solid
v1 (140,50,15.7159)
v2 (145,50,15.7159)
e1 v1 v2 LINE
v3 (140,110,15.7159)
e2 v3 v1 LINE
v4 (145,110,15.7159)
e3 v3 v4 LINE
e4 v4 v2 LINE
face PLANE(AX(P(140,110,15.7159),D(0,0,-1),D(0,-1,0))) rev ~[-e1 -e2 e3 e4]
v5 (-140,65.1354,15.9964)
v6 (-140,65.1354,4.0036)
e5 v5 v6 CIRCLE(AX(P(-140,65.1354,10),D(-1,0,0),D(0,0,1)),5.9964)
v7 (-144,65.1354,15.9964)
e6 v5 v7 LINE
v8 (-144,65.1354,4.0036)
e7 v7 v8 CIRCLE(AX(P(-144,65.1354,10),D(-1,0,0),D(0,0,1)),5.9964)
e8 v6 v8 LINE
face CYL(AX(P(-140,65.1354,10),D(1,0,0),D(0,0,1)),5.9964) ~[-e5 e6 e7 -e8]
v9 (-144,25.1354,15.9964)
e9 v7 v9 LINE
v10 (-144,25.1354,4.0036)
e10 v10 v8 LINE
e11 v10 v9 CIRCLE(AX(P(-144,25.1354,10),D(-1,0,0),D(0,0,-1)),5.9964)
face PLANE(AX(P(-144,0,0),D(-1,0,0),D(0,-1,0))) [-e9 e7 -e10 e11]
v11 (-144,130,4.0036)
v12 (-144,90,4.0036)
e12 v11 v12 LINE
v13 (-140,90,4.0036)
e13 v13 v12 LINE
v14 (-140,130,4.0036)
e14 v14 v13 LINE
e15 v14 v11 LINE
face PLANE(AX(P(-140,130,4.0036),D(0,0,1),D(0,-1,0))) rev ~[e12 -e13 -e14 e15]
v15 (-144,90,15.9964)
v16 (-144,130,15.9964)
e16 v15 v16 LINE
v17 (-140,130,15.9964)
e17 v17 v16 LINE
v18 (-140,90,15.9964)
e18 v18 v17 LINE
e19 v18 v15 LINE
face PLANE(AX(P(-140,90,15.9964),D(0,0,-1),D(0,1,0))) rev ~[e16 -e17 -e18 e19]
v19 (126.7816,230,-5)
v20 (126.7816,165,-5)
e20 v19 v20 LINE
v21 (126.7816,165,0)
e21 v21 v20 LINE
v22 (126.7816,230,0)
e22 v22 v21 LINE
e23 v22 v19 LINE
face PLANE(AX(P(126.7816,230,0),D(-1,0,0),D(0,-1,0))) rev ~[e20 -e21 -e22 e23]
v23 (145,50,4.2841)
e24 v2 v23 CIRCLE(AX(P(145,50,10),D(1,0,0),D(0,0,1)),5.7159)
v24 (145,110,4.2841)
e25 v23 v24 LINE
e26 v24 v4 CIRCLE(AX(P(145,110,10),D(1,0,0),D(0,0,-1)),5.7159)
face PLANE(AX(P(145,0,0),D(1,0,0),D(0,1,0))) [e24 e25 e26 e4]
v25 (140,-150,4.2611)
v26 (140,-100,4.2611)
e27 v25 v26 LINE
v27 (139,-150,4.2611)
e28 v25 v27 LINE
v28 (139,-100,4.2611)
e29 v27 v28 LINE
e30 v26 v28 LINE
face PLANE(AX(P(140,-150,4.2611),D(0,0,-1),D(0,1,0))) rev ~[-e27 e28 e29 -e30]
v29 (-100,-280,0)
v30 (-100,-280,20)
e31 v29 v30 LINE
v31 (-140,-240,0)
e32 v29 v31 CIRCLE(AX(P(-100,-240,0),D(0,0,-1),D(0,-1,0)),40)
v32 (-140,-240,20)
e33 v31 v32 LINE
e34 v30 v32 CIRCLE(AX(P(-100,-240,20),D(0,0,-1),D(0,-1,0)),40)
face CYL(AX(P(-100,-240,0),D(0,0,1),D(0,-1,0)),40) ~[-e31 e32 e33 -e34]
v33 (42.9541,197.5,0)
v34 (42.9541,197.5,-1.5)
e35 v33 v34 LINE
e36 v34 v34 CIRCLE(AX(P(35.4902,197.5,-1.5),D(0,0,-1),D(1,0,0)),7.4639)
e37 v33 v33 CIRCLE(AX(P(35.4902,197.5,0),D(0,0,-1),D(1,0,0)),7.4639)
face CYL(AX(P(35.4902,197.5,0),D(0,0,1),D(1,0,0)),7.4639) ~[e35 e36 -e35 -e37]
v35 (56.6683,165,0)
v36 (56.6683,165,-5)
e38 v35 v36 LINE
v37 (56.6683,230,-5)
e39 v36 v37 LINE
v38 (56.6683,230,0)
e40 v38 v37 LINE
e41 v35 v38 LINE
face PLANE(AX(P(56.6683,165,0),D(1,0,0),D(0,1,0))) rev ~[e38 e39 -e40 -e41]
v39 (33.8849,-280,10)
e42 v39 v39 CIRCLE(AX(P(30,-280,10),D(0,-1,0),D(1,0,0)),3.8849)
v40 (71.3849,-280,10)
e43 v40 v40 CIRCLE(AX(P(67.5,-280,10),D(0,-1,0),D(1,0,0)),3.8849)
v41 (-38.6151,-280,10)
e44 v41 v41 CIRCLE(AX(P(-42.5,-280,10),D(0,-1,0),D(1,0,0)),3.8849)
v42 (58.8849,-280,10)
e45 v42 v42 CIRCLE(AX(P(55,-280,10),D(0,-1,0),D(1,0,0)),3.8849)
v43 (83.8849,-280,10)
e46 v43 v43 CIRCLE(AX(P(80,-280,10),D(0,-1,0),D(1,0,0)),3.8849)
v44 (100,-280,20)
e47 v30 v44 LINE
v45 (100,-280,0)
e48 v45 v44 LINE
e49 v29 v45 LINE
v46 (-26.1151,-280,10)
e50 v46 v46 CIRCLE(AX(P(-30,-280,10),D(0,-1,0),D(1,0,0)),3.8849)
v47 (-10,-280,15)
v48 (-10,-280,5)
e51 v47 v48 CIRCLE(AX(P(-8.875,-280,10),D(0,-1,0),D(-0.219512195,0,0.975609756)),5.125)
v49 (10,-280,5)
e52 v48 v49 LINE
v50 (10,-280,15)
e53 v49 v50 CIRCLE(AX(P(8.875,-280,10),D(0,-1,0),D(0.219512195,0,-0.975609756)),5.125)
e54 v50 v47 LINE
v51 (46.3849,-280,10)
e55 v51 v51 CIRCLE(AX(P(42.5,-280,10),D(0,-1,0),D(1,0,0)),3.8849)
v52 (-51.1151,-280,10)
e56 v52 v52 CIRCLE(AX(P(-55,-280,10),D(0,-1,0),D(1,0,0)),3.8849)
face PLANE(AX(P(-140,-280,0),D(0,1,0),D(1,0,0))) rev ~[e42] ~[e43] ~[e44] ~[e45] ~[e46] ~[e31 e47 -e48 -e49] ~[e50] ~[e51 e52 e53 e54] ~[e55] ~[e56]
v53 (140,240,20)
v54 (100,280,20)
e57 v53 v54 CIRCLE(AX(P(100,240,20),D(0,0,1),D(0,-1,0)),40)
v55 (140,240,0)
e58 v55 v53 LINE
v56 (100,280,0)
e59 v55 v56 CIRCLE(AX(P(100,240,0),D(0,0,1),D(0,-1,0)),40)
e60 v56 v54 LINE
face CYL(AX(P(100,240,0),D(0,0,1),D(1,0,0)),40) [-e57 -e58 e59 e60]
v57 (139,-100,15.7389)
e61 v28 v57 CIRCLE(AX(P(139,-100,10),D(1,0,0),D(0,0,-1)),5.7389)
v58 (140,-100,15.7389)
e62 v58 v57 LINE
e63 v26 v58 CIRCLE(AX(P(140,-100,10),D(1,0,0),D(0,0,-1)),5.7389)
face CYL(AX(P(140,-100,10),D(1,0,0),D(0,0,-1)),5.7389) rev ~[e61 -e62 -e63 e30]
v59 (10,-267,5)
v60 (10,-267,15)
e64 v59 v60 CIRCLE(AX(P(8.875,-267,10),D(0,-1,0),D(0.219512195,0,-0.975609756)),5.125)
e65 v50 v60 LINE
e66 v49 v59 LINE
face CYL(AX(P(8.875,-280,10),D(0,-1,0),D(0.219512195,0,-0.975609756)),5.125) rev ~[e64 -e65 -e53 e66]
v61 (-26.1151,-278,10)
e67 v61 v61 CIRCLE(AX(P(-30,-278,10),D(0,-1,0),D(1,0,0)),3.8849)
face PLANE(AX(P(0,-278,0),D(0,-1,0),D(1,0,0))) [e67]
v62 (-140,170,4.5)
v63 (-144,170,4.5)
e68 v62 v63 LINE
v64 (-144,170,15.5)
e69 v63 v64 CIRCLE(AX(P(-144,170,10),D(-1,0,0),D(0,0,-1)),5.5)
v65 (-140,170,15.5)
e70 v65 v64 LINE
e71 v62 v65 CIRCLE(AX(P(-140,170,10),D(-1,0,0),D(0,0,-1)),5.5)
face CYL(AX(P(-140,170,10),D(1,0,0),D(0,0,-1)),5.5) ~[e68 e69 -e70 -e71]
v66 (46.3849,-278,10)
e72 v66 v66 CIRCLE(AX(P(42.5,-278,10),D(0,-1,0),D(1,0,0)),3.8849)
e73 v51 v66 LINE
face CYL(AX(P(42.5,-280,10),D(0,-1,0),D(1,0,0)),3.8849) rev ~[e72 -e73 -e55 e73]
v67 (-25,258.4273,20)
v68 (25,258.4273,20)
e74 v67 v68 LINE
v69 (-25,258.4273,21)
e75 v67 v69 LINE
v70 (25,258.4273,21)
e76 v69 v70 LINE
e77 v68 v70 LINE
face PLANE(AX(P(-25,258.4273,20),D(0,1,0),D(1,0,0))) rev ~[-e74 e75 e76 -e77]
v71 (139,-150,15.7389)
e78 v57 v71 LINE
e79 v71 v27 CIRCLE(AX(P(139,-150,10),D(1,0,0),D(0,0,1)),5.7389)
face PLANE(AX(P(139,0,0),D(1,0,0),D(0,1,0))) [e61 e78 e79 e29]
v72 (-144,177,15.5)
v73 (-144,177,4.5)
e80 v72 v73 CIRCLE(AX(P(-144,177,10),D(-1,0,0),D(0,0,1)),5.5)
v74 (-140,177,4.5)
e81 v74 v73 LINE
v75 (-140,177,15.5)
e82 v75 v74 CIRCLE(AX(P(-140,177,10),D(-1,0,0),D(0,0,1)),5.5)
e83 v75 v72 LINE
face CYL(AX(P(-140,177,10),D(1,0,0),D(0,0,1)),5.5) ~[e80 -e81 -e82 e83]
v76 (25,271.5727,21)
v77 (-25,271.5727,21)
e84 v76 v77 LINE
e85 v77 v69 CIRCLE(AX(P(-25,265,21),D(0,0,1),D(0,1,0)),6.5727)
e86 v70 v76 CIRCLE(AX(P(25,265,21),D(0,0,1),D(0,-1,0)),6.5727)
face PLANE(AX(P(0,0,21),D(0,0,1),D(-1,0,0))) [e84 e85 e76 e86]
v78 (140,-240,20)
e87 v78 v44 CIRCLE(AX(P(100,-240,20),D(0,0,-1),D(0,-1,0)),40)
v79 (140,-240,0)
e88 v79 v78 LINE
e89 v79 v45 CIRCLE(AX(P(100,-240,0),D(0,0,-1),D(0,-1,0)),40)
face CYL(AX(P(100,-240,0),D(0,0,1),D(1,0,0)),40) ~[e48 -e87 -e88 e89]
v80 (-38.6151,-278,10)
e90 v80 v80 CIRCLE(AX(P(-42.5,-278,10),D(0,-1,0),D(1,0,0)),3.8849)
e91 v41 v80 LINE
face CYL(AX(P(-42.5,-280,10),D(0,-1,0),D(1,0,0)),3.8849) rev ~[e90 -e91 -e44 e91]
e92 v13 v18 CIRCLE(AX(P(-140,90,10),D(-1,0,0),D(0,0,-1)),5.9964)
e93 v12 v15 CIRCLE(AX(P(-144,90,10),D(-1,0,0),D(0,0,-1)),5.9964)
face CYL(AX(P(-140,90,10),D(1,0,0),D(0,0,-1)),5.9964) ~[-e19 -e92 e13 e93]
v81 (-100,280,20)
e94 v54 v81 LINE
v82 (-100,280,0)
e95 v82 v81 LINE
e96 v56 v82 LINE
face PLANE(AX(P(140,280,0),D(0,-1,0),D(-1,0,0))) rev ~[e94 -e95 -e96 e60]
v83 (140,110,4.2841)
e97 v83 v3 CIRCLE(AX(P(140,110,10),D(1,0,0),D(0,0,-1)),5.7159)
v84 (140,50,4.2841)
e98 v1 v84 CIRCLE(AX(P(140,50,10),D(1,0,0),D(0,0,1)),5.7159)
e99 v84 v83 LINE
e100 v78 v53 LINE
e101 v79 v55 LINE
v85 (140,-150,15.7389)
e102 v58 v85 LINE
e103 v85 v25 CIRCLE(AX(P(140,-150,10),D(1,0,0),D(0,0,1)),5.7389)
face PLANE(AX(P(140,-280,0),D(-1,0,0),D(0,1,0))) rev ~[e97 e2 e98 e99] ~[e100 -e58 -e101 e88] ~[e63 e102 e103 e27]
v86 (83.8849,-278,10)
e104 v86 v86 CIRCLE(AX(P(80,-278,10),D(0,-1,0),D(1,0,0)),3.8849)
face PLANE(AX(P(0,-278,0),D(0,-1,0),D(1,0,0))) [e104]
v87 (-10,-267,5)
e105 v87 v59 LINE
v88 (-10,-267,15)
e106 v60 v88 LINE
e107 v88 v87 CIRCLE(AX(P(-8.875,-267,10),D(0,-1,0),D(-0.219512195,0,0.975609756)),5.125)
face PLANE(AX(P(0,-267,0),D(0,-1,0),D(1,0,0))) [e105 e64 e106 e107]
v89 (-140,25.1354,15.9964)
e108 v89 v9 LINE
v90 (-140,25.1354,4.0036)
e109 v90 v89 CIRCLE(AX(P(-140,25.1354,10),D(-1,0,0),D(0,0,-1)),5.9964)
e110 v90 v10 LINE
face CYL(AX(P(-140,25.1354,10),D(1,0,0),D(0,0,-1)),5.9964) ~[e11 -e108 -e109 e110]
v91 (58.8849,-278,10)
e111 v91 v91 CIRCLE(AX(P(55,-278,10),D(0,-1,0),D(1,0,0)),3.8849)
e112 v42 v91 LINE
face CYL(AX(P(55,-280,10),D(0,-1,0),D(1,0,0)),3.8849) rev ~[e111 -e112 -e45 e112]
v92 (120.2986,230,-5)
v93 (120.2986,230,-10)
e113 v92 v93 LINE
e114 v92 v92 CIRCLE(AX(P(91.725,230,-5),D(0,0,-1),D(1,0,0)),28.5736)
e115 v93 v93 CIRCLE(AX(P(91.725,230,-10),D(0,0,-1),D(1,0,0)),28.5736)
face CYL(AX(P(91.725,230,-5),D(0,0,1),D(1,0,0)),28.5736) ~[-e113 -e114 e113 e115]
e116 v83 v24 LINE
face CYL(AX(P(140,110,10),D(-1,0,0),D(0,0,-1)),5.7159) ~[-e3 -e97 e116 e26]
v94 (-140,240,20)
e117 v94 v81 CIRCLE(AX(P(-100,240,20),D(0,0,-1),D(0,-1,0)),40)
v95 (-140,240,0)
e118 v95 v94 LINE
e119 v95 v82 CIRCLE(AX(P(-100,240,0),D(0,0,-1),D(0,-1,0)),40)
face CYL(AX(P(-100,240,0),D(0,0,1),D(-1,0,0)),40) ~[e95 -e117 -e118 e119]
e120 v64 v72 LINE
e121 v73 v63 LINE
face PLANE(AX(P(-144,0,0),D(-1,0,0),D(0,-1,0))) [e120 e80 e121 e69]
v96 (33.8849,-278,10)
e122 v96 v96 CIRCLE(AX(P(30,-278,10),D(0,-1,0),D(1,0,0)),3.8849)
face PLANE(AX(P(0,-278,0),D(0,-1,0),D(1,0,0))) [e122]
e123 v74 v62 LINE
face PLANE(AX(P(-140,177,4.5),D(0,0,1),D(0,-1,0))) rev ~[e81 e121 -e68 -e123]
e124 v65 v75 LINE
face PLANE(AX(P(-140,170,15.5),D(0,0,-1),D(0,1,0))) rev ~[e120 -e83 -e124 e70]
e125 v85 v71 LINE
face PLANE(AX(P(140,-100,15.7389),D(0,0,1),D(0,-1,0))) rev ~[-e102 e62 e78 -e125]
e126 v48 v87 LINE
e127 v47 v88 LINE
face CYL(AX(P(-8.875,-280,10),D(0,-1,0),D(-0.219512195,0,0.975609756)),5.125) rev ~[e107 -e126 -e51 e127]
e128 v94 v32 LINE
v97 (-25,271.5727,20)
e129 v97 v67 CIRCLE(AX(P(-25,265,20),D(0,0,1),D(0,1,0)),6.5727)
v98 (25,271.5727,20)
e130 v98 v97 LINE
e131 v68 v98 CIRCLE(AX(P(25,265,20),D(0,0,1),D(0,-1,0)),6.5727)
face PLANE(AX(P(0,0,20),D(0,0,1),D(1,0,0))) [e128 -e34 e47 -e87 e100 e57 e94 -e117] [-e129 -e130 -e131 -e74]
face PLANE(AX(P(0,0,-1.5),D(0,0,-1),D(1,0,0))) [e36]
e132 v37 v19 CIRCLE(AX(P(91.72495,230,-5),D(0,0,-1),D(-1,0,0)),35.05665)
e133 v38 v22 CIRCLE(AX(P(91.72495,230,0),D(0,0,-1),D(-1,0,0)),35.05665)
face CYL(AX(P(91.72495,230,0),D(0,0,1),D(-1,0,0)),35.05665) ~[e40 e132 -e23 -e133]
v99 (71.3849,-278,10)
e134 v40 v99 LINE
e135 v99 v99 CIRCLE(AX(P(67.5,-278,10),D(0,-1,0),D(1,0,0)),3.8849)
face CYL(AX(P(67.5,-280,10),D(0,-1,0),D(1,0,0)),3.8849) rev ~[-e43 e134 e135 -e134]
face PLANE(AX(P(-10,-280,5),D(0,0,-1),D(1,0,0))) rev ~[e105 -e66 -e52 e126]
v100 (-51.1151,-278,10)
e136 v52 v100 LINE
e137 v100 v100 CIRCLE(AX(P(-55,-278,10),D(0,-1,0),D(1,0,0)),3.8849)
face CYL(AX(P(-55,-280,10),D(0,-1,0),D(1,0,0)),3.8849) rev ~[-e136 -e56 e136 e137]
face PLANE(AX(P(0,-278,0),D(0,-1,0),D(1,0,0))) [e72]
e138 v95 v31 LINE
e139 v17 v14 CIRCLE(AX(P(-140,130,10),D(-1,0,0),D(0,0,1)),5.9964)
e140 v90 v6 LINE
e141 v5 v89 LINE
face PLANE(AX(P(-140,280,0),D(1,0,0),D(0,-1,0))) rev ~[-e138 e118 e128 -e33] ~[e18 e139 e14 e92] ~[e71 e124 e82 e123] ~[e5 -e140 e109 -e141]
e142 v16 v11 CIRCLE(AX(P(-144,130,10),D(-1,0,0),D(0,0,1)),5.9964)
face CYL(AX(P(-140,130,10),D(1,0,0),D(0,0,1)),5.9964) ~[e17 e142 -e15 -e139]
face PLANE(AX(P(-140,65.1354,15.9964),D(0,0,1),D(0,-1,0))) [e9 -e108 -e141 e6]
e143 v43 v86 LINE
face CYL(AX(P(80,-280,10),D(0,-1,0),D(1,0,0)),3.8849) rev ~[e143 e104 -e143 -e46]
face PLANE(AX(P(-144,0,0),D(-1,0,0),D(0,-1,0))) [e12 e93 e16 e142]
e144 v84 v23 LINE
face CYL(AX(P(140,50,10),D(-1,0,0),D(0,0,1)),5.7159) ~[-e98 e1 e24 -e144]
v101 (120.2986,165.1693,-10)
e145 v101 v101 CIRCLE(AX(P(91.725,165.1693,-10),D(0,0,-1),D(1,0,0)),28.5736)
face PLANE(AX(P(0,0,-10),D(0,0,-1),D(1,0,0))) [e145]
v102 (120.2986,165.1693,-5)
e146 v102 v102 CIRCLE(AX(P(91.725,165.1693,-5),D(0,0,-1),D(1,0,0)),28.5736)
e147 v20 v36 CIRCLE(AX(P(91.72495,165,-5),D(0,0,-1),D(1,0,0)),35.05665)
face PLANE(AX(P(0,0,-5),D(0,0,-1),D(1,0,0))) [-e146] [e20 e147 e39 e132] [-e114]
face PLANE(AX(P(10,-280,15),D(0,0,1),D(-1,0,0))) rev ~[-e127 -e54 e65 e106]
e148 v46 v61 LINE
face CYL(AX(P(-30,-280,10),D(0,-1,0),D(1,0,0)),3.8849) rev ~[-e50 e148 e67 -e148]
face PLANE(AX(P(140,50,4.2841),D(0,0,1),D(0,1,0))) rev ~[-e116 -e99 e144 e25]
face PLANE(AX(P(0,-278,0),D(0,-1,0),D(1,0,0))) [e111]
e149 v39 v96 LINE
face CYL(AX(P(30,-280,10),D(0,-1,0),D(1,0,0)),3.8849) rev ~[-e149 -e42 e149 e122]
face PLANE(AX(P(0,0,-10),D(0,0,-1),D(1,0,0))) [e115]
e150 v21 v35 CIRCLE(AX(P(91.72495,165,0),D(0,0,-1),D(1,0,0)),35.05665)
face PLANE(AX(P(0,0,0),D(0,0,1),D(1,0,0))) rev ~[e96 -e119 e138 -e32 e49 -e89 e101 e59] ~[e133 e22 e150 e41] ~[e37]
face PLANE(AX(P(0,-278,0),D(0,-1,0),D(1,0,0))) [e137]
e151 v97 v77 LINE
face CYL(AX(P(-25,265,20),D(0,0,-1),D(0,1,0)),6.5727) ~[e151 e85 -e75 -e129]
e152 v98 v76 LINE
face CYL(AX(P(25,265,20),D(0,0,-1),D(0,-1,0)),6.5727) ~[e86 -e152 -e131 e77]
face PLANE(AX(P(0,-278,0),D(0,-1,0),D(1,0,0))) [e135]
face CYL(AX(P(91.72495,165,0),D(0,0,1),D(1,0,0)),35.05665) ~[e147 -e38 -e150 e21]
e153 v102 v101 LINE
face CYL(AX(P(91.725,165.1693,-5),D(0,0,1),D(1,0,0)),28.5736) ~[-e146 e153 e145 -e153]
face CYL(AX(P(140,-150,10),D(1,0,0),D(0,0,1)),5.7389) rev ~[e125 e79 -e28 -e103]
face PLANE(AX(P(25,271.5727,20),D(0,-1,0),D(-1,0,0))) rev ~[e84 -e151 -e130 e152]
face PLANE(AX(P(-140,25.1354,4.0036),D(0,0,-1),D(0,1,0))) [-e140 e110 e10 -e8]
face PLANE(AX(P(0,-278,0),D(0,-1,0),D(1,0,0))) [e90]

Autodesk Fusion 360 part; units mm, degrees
sketch "Sketch1" plane through (0, 0, 0) normal (0, 0, 1) x (1, 0, 0)
  line L0 (140, 280) -> (-140, 280)
  line L1 (-140, 280) -> (-140, -280)
  line L2 (-140, -280) -> (140, -280)
  line L3 (140, -280) -> (140, 280)
  line L4 (140, 280) -> (-140, -280) construction
  line L5 (-140, 280) -> (140, -280) construction
  dimension "d1" = 140
  dimension "d2" = 280
extrude "Extrude1" add sketch "Sketch1" along normal blind 20
fillet "Fillet1" radius 40 4 edges at (140, -280, 10) (-140, -280, 10) (140, 280, 10) (-140, 280, 10)
sketch "Sketch2" plane through (0, -280, 0) normal (0, -1, 0) x (1, 0, 0)
  line L0 (-100, 20) -> (-100, 0)
  line L1 (-100, 0) -> (100, 0)
  line L2 (100, 0) -> (100, 20)
  line L3 (100, 20) -> (-100, 20)
  line L4 (10, 15) -> (-10, 15)
  line L5 (-10, 5) -> (10, 5)
  line L6 (10, 15) -> (-10, 5) construction
  line L7 (-10, 15) -> (10, 5) construction
  arc A0 (10, 5) -> (10, 15) centre (8.875, 10) ccw
  line L8 (0, 15) -> (0, 5) construction
  arc A1 (-10, 15) -> (-10, 5) centre (-8.875, 10) ccw
  circle A2 centre (-30, 10) radius 3.8849
  circle A3 centre (-42.5, 10) radius 3.8849
  circle A4 centre (-55, 10) radius 3.8849
  circle A5 centre (30, 10) radius 3.8849
  circle A6 centre (42.5, 10) radius 3.8849
  circle A7 centre (55, 10) radius 3.8849
  circle A8 centre (67.5, 10) radius 3.8849
  circle A9 centre (80, 10) radius 3.8849
  point P0 (0, 10)
  dimension "d7" = 20
  dimension "d8" = 5.125
  dimension "d9" = 10
  dimension "d10" = 5
  dimension "d11" = 100
  dimension "d12" = 10
  dimension "d17" = -25
  dimension "d18" = 0
  dimension "d21" = 50
  dimension "d22" = 0
extrude "Extrude2" cut sketch "Sketch2" against normal blind 13 contours L4 L5 A0 A1
extrude "Extrude3" cut sketch "Sketch2" against normal blind 2 contours A2 | A3 | A4 | A5 | A6 | A7 | A8 | A9
sketch "Sketch3" plane through (140, 0, 0) normal (1, 0, 0) x (0, 1, 0)
  line L0 (240, 0) -> (240, 20)
  line L1 (240, 20) -> (-240, 20)
  line L2 (-240, 20) -> (-240, 0)
  line L3 (-240, 0) -> (240, 0)
  line L4 (-150, 4.2611) -> (-100, 4.2611)
  arc A0 (-100, 4.2611) -> (-100, 15.7389) centre (-100, 10) ccw
  line L5 (-100, 15.7389) -> (-150, 15.7389)
  arc A1 (-150, 15.7389) -> (-150, 4.2611) centre (-150, 10) ccw
  line L6 (-150, 10) -> (-100, 10) construction
  line L7 (50, 4.2841) -> (110, 4.2841)
  arc A2 (110, 4.2841) -> (110, 15.7159) centre (110, 10) ccw
  line L8 (110, 15.7159) -> (50, 15.7159)
  arc A3 (50, 15.7159) -> (50, 4.2841) centre (50, 10) ccw
  line L9 (50, 10) -> (110, 10) construction
  dimension "d27" = 11.4319
extrude "Extrude4" cut sketch "Sketch3" against normal blind 1 contours L4 A0 L5 A1
extrude "Extrude5" add sketch "Sketch3" along normal blind 5 contours L7 A2 L8 A3
sketch "Sketch4" plane through (-140, 0, 0) normal (-1, 0, 0) x (0, -1, 0)
  line L0 (-240, 20) -> (-240, 0)
  line L1 (-240, 0) -> (240, 0)
  line L2 (240, 0) -> (240, 20)
  line L3 (240, 20) -> (-240, 20)
  line L4 (-130, 4.0036) -> (-90, 4.0036)
  arc A0 (-90, 4.0036) -> (-90, 15.9964) centre (-90, 10) ccw
  line L5 (-90, 15.9964) -> (-130, 15.9964)
  arc A1 (-130, 15.9964) -> (-130, 4.0036) centre (-130, 10) ccw
  line L6 (-130, 10) -> (-90, 10) construction
  line L7 (-77.5677, 20) -> (-77.5677, 0) construction
  arc A2 (-65.1354, 15.9964) -> (-65.1354, 4.0036) centre (-65.1354, 10) ccw
  line L8 (-65.1354, 15.9964) -> (-25.1354, 15.9964)
  arc A3 (-25.1354, 4.0036) -> (-25.1354, 15.9964) centre (-25.1354, 10) ccw
  line L9 (-25.1354, 4.0036) -> (-65.1354, 4.0036)
  line L10 (-177, 4.5) -> (-170, 4.5)
  arc A4 (-170, 4.5) -> (-170, 15.5) centre (-170, 10) ccw
  line L11 (-170, 15.5) -> (-177, 15.5)
  arc A5 (-177, 15.5) -> (-177, 4.5) centre (-177, 10) ccw
  line L12 (-177, 10) -> (-170, 10) construction
  dimension "d30" = 40
  dimension "d31" = 11
extrude "Extrude6" add sketch "Sketch4" along normal blind 4 contours L4 A0 L5 A1 | A2 L8 A3 L9 | L10 A4 L11 A5
sketch "Sketch5" plane through (0, 0, 0) normal (0, 0, -1) x (1, 0, 0)
  arc A0 (-140, -240) -> (-100, -280) centre (-100, -240) ccw
  line L0 (-100, -280) -> (100, -280)
  arc A1 (100, -280) -> (140, -240) centre (100, -240) ccw
  line L1 (140, -240) -> (140, 240)
  arc A2 (140, 240) -> (100, 280) centre (100, 240) ccw
  line L2 (100, 280) -> (-100, 280)
  arc A3 (-100, 280) -> (-140, 240) centre (-100, 240) ccw
  line L3 (-140, 240) -> (-140, -240)
  line L4 (126.7816, -230) -> (126.7816, -165)
  arc A4 (126.7816, -165) -> (56.6683, -165) centre (91.725, -165) ccw
  line L5 (56.6683, -165) -> (56.6683, -230)
  arc A5 (56.6683, -230) -> (126.7816, -230) centre (91.725, -230) ccw
  line L6 (91.725, -230) -> (91.725, -165) construction
  dimension "d34" = 35.0567
  dimension "d36" = 75
  dimension "d38" = 50
extrude "Extrude7" add sketch "Sketch5" along normal blind 5 contours L4 A4 L5 A5
sketch "Sketch6" plane through (0, 0, -5) normal (0, 0, -1) x (1, 0, 0)
  arc A0 (56.6683, -230) -> (126.7816, -230) centre (91.725, -230) ccw
  line L0 (126.7816, -230) -> (126.7816, -165)
  arc A1 (126.7816, -165) -> (56.6683, -165) centre (91.725, -165) ccw
  line L1 (56.6683, -165) -> (56.6683, -230)
  circle A2 centre (91.725, -230) radius 28.5736
  line L2 (91.725, -197.5847) -> (60, -197.5847) construction
  circle A3 centre (91.725, -165.1693) radius 28.5736
extrude "Extrude8" add sketch "Sketch6" along normal blind 5 contours A2 | A3
sketch "Sketch7" plane through (0, 0, 0) normal (0, 0, -1) x (1, 0, 0)
  line L0 (56.6683, -230) -> (56.6683, -165)
  arc A0 (126.7816, -165) -> (56.6683, -165) centre (91.725, -165) ccw
  line L1 (126.7816, -165) -> (126.7816, -230)
  arc A1 (56.6683, -230) -> (126.7816, -230) centre (91.725, -230) ccw
  arc A2 (-140, -240) -> (-100, -280) centre (-100, -240) ccw
  line L2 (-100, -280) -> (100, -280)
  arc A3 (100, -280) -> (140, -240) centre (100, -240) ccw
  line L3 (140, -240) -> (140, 240)
  arc A4 (140, 240) -> (100, 280) centre (100, 240) ccw
  line L4 (100, 280) -> (-100, 280)
  arc A5 (-100, 280) -> (-140, 240) centre (-100, 240) ccw
  line L5 (-140, 240) -> (-140, -240)
  circle A6 centre (35.4902, -197.5) radius 7.4639
extrude "Extrude9" add sketch "Sketch7" along normal blind 1.5 contours A6
sketch "Sketch8" plane through (0, 0, 20) normal (0, 0, 1) x (-1, 0, 0)
  arc A0 (100, -280) -> (140, -240) centre (100, -240) ccw
  line L0 (140, -240) -> (140, 240)
  arc A1 (140, 240) -> (100, 280) centre (100, 240) ccw
  line L1 (100, 280) -> (-100, 280)
  arc A2 (-100, 280) -> (-140, 240) centre (-100, 240) ccw
  line L2 (-140, 240) -> (-140, -240)
  arc A3 (-140, -240) -> (-100, -280) centre (-100, -240) ccw
  line L3 (-100, -280) -> (100, -280)
  line L4 (25, -258.4273) -> (-25, -258.4273)
  arc A4 (-25, -258.4273) -> (-25, -271.5727) centre (-25, -265) ccw
  line L5 (-25, -271.5727) -> (25, -271.5727)
  arc A5 (25, -271.5727) -> (25, -258.4273) centre (25, -265) ccw
  line L6 (25, -265) -> (-25, -265) construction
extrude "Extrude10" add sketch "Sketch8" along normal blind 1 contours L4 A4 L5 A5
sketch "Sketch9" plane through (0, 0, 0) normal (0, 0, -1) x (1, 0, 0)
  circle A0 centre (35.4902, -197.5) radius 7.4639
  line L0 (56.6683, -230) -> (56.6683, -165)
  arc A1 (126.7816, -165) -> (56.6683, -165) centre (91.725, -165) ccw
  line L1 (126.7816, -165) -> (126.7816, -230)
  arc A2 (56.6683, -230) -> (126.7816, -230) centre (91.725, -230) ccw
  arc A3 (-140, -240) -> (-100, -280) centre (-100, -240) ccw
  line L2 (-100, -280) -> (100, -280)
  arc A4 (100, -280) -> (140, -240) centre (100, -240) ccw
  line L3 (140, -240) -> (140, 240)
  arc A5 (140, 240) -> (100, 280) centre (100, 240) ccw
  line L4 (100, 280) -> (-100, 280)
  arc A6 (-100, 280) -> (-140, 240) centre (-100, 240) ccw
  line L5 (-140, 240) -> (-140, -240)
  spline S0 degree 3 poles (-24.7768, 20.7597) (-21.4828, 25.6809) (-17.9903, 30.4831) (-12.6722, 30.5625) knots 0 0 0 0 1 1 1 1
  spline S1 degree 3 poles (-12.6722, 30.5625) (-7.354, 30.6815) (-5.6475, 27.4272) (0.385, 27.4272) knots 0 0 0 0 1 1 1 1
  spline S2 degree 3 poles (0.385, 27.4272) (6.4572, 27.4272) (8.3225, 30.4831) (13.363, 30.6815) knots 0 0 0 0 1 1 1 1
  spline S3 degree 3 poles (13.363, 30.6815) (18.562, 30.88) (22.4911, 25.4428) (25.8248, 20.6406) knots 0 0 0 0 1 1 1 1
  spline S4 degree 3 poles (25.8248, 20.6406) (32.6114, 10.8378) (37.8105, -7.22) (30.8255, -19.3644) knots 0 0 0 0 1 1 1 1
  spline S5 degree 3 poles (30.8255, -19.3644) (27.3726, -25.3969) (21.1814, -29.2069) (14.4742, -29.326) knots 0 0 0 0 1 1 1 1
  spline S6 degree 3 poles (14.4742, -29.326) (9.3941, -29.4053) (4.5522, -25.8731) (1.4169, -25.8731) knots 0 0 0 0 1 1 1 1
  spline S7 degree 3 poles (1.4169, -25.8731) (-1.6787, -25.8731) (-7.5525, -30.1197) (-13.704, -29.4847) knots 0 0 0 0 1 1 1 1
  spline S8 degree 3 poles (-13.704, -29.4847) (-16.2837, -29.3657) (-23.5068, -28.4528) (-28.1503, -21.6266) knots 0 0 0 0 1 1 1 1
  spline S9 degree 3 poles (-28.1503, -21.6266) (-27.7931, -21.3885) (-19.5381, -16.5466) (-19.6175, -6.5056) knots 0 0 0 0 1 1 1 1
  spline S10 degree 3 poles (-19.6175, -6.5056) (-19.7365, 5.48) (-30.1347, 9.4884) (-30.2537, 9.5281) knots 0 0 0 0 1 1 1 1
  spline S11 degree 3 poles (-30.2537, 9.5281) (-30.1347, 9.8059) (-28.5868, 15.2431) (-24.7768, 20.7597) knots 0 0 0 0 1 1 1 1
  spline S12 degree 3 poles (-2.1153, -42.7403) (-5.0125, -46.0344) (-9.8147, -48.5347) (-13.7834, -48.6935) knots 0 0 0 0 1 1 1 1
  spline S13 degree 3 poles (-13.7834, -48.6935) (-14.2993, -44.05) (-12.434, -39.3669) (-9.6559, -36.0331) knots 0 0 0 0 1 1 1 1
  spline S14 degree 3 poles (-9.6559, -36.0331) (-6.9175, -32.6597) (-2.3931, -30.0403) (2.0519, -30.3975) knots 0 0 0 0 1 1 1 1
  spline S15 degree 3 poles (2.0519, -30.3975) (2.6472, -34.9616) (0.4247, -39.7241) (-2.1153, -42.7403) knots 0 0 0 0 1 1 1 1
